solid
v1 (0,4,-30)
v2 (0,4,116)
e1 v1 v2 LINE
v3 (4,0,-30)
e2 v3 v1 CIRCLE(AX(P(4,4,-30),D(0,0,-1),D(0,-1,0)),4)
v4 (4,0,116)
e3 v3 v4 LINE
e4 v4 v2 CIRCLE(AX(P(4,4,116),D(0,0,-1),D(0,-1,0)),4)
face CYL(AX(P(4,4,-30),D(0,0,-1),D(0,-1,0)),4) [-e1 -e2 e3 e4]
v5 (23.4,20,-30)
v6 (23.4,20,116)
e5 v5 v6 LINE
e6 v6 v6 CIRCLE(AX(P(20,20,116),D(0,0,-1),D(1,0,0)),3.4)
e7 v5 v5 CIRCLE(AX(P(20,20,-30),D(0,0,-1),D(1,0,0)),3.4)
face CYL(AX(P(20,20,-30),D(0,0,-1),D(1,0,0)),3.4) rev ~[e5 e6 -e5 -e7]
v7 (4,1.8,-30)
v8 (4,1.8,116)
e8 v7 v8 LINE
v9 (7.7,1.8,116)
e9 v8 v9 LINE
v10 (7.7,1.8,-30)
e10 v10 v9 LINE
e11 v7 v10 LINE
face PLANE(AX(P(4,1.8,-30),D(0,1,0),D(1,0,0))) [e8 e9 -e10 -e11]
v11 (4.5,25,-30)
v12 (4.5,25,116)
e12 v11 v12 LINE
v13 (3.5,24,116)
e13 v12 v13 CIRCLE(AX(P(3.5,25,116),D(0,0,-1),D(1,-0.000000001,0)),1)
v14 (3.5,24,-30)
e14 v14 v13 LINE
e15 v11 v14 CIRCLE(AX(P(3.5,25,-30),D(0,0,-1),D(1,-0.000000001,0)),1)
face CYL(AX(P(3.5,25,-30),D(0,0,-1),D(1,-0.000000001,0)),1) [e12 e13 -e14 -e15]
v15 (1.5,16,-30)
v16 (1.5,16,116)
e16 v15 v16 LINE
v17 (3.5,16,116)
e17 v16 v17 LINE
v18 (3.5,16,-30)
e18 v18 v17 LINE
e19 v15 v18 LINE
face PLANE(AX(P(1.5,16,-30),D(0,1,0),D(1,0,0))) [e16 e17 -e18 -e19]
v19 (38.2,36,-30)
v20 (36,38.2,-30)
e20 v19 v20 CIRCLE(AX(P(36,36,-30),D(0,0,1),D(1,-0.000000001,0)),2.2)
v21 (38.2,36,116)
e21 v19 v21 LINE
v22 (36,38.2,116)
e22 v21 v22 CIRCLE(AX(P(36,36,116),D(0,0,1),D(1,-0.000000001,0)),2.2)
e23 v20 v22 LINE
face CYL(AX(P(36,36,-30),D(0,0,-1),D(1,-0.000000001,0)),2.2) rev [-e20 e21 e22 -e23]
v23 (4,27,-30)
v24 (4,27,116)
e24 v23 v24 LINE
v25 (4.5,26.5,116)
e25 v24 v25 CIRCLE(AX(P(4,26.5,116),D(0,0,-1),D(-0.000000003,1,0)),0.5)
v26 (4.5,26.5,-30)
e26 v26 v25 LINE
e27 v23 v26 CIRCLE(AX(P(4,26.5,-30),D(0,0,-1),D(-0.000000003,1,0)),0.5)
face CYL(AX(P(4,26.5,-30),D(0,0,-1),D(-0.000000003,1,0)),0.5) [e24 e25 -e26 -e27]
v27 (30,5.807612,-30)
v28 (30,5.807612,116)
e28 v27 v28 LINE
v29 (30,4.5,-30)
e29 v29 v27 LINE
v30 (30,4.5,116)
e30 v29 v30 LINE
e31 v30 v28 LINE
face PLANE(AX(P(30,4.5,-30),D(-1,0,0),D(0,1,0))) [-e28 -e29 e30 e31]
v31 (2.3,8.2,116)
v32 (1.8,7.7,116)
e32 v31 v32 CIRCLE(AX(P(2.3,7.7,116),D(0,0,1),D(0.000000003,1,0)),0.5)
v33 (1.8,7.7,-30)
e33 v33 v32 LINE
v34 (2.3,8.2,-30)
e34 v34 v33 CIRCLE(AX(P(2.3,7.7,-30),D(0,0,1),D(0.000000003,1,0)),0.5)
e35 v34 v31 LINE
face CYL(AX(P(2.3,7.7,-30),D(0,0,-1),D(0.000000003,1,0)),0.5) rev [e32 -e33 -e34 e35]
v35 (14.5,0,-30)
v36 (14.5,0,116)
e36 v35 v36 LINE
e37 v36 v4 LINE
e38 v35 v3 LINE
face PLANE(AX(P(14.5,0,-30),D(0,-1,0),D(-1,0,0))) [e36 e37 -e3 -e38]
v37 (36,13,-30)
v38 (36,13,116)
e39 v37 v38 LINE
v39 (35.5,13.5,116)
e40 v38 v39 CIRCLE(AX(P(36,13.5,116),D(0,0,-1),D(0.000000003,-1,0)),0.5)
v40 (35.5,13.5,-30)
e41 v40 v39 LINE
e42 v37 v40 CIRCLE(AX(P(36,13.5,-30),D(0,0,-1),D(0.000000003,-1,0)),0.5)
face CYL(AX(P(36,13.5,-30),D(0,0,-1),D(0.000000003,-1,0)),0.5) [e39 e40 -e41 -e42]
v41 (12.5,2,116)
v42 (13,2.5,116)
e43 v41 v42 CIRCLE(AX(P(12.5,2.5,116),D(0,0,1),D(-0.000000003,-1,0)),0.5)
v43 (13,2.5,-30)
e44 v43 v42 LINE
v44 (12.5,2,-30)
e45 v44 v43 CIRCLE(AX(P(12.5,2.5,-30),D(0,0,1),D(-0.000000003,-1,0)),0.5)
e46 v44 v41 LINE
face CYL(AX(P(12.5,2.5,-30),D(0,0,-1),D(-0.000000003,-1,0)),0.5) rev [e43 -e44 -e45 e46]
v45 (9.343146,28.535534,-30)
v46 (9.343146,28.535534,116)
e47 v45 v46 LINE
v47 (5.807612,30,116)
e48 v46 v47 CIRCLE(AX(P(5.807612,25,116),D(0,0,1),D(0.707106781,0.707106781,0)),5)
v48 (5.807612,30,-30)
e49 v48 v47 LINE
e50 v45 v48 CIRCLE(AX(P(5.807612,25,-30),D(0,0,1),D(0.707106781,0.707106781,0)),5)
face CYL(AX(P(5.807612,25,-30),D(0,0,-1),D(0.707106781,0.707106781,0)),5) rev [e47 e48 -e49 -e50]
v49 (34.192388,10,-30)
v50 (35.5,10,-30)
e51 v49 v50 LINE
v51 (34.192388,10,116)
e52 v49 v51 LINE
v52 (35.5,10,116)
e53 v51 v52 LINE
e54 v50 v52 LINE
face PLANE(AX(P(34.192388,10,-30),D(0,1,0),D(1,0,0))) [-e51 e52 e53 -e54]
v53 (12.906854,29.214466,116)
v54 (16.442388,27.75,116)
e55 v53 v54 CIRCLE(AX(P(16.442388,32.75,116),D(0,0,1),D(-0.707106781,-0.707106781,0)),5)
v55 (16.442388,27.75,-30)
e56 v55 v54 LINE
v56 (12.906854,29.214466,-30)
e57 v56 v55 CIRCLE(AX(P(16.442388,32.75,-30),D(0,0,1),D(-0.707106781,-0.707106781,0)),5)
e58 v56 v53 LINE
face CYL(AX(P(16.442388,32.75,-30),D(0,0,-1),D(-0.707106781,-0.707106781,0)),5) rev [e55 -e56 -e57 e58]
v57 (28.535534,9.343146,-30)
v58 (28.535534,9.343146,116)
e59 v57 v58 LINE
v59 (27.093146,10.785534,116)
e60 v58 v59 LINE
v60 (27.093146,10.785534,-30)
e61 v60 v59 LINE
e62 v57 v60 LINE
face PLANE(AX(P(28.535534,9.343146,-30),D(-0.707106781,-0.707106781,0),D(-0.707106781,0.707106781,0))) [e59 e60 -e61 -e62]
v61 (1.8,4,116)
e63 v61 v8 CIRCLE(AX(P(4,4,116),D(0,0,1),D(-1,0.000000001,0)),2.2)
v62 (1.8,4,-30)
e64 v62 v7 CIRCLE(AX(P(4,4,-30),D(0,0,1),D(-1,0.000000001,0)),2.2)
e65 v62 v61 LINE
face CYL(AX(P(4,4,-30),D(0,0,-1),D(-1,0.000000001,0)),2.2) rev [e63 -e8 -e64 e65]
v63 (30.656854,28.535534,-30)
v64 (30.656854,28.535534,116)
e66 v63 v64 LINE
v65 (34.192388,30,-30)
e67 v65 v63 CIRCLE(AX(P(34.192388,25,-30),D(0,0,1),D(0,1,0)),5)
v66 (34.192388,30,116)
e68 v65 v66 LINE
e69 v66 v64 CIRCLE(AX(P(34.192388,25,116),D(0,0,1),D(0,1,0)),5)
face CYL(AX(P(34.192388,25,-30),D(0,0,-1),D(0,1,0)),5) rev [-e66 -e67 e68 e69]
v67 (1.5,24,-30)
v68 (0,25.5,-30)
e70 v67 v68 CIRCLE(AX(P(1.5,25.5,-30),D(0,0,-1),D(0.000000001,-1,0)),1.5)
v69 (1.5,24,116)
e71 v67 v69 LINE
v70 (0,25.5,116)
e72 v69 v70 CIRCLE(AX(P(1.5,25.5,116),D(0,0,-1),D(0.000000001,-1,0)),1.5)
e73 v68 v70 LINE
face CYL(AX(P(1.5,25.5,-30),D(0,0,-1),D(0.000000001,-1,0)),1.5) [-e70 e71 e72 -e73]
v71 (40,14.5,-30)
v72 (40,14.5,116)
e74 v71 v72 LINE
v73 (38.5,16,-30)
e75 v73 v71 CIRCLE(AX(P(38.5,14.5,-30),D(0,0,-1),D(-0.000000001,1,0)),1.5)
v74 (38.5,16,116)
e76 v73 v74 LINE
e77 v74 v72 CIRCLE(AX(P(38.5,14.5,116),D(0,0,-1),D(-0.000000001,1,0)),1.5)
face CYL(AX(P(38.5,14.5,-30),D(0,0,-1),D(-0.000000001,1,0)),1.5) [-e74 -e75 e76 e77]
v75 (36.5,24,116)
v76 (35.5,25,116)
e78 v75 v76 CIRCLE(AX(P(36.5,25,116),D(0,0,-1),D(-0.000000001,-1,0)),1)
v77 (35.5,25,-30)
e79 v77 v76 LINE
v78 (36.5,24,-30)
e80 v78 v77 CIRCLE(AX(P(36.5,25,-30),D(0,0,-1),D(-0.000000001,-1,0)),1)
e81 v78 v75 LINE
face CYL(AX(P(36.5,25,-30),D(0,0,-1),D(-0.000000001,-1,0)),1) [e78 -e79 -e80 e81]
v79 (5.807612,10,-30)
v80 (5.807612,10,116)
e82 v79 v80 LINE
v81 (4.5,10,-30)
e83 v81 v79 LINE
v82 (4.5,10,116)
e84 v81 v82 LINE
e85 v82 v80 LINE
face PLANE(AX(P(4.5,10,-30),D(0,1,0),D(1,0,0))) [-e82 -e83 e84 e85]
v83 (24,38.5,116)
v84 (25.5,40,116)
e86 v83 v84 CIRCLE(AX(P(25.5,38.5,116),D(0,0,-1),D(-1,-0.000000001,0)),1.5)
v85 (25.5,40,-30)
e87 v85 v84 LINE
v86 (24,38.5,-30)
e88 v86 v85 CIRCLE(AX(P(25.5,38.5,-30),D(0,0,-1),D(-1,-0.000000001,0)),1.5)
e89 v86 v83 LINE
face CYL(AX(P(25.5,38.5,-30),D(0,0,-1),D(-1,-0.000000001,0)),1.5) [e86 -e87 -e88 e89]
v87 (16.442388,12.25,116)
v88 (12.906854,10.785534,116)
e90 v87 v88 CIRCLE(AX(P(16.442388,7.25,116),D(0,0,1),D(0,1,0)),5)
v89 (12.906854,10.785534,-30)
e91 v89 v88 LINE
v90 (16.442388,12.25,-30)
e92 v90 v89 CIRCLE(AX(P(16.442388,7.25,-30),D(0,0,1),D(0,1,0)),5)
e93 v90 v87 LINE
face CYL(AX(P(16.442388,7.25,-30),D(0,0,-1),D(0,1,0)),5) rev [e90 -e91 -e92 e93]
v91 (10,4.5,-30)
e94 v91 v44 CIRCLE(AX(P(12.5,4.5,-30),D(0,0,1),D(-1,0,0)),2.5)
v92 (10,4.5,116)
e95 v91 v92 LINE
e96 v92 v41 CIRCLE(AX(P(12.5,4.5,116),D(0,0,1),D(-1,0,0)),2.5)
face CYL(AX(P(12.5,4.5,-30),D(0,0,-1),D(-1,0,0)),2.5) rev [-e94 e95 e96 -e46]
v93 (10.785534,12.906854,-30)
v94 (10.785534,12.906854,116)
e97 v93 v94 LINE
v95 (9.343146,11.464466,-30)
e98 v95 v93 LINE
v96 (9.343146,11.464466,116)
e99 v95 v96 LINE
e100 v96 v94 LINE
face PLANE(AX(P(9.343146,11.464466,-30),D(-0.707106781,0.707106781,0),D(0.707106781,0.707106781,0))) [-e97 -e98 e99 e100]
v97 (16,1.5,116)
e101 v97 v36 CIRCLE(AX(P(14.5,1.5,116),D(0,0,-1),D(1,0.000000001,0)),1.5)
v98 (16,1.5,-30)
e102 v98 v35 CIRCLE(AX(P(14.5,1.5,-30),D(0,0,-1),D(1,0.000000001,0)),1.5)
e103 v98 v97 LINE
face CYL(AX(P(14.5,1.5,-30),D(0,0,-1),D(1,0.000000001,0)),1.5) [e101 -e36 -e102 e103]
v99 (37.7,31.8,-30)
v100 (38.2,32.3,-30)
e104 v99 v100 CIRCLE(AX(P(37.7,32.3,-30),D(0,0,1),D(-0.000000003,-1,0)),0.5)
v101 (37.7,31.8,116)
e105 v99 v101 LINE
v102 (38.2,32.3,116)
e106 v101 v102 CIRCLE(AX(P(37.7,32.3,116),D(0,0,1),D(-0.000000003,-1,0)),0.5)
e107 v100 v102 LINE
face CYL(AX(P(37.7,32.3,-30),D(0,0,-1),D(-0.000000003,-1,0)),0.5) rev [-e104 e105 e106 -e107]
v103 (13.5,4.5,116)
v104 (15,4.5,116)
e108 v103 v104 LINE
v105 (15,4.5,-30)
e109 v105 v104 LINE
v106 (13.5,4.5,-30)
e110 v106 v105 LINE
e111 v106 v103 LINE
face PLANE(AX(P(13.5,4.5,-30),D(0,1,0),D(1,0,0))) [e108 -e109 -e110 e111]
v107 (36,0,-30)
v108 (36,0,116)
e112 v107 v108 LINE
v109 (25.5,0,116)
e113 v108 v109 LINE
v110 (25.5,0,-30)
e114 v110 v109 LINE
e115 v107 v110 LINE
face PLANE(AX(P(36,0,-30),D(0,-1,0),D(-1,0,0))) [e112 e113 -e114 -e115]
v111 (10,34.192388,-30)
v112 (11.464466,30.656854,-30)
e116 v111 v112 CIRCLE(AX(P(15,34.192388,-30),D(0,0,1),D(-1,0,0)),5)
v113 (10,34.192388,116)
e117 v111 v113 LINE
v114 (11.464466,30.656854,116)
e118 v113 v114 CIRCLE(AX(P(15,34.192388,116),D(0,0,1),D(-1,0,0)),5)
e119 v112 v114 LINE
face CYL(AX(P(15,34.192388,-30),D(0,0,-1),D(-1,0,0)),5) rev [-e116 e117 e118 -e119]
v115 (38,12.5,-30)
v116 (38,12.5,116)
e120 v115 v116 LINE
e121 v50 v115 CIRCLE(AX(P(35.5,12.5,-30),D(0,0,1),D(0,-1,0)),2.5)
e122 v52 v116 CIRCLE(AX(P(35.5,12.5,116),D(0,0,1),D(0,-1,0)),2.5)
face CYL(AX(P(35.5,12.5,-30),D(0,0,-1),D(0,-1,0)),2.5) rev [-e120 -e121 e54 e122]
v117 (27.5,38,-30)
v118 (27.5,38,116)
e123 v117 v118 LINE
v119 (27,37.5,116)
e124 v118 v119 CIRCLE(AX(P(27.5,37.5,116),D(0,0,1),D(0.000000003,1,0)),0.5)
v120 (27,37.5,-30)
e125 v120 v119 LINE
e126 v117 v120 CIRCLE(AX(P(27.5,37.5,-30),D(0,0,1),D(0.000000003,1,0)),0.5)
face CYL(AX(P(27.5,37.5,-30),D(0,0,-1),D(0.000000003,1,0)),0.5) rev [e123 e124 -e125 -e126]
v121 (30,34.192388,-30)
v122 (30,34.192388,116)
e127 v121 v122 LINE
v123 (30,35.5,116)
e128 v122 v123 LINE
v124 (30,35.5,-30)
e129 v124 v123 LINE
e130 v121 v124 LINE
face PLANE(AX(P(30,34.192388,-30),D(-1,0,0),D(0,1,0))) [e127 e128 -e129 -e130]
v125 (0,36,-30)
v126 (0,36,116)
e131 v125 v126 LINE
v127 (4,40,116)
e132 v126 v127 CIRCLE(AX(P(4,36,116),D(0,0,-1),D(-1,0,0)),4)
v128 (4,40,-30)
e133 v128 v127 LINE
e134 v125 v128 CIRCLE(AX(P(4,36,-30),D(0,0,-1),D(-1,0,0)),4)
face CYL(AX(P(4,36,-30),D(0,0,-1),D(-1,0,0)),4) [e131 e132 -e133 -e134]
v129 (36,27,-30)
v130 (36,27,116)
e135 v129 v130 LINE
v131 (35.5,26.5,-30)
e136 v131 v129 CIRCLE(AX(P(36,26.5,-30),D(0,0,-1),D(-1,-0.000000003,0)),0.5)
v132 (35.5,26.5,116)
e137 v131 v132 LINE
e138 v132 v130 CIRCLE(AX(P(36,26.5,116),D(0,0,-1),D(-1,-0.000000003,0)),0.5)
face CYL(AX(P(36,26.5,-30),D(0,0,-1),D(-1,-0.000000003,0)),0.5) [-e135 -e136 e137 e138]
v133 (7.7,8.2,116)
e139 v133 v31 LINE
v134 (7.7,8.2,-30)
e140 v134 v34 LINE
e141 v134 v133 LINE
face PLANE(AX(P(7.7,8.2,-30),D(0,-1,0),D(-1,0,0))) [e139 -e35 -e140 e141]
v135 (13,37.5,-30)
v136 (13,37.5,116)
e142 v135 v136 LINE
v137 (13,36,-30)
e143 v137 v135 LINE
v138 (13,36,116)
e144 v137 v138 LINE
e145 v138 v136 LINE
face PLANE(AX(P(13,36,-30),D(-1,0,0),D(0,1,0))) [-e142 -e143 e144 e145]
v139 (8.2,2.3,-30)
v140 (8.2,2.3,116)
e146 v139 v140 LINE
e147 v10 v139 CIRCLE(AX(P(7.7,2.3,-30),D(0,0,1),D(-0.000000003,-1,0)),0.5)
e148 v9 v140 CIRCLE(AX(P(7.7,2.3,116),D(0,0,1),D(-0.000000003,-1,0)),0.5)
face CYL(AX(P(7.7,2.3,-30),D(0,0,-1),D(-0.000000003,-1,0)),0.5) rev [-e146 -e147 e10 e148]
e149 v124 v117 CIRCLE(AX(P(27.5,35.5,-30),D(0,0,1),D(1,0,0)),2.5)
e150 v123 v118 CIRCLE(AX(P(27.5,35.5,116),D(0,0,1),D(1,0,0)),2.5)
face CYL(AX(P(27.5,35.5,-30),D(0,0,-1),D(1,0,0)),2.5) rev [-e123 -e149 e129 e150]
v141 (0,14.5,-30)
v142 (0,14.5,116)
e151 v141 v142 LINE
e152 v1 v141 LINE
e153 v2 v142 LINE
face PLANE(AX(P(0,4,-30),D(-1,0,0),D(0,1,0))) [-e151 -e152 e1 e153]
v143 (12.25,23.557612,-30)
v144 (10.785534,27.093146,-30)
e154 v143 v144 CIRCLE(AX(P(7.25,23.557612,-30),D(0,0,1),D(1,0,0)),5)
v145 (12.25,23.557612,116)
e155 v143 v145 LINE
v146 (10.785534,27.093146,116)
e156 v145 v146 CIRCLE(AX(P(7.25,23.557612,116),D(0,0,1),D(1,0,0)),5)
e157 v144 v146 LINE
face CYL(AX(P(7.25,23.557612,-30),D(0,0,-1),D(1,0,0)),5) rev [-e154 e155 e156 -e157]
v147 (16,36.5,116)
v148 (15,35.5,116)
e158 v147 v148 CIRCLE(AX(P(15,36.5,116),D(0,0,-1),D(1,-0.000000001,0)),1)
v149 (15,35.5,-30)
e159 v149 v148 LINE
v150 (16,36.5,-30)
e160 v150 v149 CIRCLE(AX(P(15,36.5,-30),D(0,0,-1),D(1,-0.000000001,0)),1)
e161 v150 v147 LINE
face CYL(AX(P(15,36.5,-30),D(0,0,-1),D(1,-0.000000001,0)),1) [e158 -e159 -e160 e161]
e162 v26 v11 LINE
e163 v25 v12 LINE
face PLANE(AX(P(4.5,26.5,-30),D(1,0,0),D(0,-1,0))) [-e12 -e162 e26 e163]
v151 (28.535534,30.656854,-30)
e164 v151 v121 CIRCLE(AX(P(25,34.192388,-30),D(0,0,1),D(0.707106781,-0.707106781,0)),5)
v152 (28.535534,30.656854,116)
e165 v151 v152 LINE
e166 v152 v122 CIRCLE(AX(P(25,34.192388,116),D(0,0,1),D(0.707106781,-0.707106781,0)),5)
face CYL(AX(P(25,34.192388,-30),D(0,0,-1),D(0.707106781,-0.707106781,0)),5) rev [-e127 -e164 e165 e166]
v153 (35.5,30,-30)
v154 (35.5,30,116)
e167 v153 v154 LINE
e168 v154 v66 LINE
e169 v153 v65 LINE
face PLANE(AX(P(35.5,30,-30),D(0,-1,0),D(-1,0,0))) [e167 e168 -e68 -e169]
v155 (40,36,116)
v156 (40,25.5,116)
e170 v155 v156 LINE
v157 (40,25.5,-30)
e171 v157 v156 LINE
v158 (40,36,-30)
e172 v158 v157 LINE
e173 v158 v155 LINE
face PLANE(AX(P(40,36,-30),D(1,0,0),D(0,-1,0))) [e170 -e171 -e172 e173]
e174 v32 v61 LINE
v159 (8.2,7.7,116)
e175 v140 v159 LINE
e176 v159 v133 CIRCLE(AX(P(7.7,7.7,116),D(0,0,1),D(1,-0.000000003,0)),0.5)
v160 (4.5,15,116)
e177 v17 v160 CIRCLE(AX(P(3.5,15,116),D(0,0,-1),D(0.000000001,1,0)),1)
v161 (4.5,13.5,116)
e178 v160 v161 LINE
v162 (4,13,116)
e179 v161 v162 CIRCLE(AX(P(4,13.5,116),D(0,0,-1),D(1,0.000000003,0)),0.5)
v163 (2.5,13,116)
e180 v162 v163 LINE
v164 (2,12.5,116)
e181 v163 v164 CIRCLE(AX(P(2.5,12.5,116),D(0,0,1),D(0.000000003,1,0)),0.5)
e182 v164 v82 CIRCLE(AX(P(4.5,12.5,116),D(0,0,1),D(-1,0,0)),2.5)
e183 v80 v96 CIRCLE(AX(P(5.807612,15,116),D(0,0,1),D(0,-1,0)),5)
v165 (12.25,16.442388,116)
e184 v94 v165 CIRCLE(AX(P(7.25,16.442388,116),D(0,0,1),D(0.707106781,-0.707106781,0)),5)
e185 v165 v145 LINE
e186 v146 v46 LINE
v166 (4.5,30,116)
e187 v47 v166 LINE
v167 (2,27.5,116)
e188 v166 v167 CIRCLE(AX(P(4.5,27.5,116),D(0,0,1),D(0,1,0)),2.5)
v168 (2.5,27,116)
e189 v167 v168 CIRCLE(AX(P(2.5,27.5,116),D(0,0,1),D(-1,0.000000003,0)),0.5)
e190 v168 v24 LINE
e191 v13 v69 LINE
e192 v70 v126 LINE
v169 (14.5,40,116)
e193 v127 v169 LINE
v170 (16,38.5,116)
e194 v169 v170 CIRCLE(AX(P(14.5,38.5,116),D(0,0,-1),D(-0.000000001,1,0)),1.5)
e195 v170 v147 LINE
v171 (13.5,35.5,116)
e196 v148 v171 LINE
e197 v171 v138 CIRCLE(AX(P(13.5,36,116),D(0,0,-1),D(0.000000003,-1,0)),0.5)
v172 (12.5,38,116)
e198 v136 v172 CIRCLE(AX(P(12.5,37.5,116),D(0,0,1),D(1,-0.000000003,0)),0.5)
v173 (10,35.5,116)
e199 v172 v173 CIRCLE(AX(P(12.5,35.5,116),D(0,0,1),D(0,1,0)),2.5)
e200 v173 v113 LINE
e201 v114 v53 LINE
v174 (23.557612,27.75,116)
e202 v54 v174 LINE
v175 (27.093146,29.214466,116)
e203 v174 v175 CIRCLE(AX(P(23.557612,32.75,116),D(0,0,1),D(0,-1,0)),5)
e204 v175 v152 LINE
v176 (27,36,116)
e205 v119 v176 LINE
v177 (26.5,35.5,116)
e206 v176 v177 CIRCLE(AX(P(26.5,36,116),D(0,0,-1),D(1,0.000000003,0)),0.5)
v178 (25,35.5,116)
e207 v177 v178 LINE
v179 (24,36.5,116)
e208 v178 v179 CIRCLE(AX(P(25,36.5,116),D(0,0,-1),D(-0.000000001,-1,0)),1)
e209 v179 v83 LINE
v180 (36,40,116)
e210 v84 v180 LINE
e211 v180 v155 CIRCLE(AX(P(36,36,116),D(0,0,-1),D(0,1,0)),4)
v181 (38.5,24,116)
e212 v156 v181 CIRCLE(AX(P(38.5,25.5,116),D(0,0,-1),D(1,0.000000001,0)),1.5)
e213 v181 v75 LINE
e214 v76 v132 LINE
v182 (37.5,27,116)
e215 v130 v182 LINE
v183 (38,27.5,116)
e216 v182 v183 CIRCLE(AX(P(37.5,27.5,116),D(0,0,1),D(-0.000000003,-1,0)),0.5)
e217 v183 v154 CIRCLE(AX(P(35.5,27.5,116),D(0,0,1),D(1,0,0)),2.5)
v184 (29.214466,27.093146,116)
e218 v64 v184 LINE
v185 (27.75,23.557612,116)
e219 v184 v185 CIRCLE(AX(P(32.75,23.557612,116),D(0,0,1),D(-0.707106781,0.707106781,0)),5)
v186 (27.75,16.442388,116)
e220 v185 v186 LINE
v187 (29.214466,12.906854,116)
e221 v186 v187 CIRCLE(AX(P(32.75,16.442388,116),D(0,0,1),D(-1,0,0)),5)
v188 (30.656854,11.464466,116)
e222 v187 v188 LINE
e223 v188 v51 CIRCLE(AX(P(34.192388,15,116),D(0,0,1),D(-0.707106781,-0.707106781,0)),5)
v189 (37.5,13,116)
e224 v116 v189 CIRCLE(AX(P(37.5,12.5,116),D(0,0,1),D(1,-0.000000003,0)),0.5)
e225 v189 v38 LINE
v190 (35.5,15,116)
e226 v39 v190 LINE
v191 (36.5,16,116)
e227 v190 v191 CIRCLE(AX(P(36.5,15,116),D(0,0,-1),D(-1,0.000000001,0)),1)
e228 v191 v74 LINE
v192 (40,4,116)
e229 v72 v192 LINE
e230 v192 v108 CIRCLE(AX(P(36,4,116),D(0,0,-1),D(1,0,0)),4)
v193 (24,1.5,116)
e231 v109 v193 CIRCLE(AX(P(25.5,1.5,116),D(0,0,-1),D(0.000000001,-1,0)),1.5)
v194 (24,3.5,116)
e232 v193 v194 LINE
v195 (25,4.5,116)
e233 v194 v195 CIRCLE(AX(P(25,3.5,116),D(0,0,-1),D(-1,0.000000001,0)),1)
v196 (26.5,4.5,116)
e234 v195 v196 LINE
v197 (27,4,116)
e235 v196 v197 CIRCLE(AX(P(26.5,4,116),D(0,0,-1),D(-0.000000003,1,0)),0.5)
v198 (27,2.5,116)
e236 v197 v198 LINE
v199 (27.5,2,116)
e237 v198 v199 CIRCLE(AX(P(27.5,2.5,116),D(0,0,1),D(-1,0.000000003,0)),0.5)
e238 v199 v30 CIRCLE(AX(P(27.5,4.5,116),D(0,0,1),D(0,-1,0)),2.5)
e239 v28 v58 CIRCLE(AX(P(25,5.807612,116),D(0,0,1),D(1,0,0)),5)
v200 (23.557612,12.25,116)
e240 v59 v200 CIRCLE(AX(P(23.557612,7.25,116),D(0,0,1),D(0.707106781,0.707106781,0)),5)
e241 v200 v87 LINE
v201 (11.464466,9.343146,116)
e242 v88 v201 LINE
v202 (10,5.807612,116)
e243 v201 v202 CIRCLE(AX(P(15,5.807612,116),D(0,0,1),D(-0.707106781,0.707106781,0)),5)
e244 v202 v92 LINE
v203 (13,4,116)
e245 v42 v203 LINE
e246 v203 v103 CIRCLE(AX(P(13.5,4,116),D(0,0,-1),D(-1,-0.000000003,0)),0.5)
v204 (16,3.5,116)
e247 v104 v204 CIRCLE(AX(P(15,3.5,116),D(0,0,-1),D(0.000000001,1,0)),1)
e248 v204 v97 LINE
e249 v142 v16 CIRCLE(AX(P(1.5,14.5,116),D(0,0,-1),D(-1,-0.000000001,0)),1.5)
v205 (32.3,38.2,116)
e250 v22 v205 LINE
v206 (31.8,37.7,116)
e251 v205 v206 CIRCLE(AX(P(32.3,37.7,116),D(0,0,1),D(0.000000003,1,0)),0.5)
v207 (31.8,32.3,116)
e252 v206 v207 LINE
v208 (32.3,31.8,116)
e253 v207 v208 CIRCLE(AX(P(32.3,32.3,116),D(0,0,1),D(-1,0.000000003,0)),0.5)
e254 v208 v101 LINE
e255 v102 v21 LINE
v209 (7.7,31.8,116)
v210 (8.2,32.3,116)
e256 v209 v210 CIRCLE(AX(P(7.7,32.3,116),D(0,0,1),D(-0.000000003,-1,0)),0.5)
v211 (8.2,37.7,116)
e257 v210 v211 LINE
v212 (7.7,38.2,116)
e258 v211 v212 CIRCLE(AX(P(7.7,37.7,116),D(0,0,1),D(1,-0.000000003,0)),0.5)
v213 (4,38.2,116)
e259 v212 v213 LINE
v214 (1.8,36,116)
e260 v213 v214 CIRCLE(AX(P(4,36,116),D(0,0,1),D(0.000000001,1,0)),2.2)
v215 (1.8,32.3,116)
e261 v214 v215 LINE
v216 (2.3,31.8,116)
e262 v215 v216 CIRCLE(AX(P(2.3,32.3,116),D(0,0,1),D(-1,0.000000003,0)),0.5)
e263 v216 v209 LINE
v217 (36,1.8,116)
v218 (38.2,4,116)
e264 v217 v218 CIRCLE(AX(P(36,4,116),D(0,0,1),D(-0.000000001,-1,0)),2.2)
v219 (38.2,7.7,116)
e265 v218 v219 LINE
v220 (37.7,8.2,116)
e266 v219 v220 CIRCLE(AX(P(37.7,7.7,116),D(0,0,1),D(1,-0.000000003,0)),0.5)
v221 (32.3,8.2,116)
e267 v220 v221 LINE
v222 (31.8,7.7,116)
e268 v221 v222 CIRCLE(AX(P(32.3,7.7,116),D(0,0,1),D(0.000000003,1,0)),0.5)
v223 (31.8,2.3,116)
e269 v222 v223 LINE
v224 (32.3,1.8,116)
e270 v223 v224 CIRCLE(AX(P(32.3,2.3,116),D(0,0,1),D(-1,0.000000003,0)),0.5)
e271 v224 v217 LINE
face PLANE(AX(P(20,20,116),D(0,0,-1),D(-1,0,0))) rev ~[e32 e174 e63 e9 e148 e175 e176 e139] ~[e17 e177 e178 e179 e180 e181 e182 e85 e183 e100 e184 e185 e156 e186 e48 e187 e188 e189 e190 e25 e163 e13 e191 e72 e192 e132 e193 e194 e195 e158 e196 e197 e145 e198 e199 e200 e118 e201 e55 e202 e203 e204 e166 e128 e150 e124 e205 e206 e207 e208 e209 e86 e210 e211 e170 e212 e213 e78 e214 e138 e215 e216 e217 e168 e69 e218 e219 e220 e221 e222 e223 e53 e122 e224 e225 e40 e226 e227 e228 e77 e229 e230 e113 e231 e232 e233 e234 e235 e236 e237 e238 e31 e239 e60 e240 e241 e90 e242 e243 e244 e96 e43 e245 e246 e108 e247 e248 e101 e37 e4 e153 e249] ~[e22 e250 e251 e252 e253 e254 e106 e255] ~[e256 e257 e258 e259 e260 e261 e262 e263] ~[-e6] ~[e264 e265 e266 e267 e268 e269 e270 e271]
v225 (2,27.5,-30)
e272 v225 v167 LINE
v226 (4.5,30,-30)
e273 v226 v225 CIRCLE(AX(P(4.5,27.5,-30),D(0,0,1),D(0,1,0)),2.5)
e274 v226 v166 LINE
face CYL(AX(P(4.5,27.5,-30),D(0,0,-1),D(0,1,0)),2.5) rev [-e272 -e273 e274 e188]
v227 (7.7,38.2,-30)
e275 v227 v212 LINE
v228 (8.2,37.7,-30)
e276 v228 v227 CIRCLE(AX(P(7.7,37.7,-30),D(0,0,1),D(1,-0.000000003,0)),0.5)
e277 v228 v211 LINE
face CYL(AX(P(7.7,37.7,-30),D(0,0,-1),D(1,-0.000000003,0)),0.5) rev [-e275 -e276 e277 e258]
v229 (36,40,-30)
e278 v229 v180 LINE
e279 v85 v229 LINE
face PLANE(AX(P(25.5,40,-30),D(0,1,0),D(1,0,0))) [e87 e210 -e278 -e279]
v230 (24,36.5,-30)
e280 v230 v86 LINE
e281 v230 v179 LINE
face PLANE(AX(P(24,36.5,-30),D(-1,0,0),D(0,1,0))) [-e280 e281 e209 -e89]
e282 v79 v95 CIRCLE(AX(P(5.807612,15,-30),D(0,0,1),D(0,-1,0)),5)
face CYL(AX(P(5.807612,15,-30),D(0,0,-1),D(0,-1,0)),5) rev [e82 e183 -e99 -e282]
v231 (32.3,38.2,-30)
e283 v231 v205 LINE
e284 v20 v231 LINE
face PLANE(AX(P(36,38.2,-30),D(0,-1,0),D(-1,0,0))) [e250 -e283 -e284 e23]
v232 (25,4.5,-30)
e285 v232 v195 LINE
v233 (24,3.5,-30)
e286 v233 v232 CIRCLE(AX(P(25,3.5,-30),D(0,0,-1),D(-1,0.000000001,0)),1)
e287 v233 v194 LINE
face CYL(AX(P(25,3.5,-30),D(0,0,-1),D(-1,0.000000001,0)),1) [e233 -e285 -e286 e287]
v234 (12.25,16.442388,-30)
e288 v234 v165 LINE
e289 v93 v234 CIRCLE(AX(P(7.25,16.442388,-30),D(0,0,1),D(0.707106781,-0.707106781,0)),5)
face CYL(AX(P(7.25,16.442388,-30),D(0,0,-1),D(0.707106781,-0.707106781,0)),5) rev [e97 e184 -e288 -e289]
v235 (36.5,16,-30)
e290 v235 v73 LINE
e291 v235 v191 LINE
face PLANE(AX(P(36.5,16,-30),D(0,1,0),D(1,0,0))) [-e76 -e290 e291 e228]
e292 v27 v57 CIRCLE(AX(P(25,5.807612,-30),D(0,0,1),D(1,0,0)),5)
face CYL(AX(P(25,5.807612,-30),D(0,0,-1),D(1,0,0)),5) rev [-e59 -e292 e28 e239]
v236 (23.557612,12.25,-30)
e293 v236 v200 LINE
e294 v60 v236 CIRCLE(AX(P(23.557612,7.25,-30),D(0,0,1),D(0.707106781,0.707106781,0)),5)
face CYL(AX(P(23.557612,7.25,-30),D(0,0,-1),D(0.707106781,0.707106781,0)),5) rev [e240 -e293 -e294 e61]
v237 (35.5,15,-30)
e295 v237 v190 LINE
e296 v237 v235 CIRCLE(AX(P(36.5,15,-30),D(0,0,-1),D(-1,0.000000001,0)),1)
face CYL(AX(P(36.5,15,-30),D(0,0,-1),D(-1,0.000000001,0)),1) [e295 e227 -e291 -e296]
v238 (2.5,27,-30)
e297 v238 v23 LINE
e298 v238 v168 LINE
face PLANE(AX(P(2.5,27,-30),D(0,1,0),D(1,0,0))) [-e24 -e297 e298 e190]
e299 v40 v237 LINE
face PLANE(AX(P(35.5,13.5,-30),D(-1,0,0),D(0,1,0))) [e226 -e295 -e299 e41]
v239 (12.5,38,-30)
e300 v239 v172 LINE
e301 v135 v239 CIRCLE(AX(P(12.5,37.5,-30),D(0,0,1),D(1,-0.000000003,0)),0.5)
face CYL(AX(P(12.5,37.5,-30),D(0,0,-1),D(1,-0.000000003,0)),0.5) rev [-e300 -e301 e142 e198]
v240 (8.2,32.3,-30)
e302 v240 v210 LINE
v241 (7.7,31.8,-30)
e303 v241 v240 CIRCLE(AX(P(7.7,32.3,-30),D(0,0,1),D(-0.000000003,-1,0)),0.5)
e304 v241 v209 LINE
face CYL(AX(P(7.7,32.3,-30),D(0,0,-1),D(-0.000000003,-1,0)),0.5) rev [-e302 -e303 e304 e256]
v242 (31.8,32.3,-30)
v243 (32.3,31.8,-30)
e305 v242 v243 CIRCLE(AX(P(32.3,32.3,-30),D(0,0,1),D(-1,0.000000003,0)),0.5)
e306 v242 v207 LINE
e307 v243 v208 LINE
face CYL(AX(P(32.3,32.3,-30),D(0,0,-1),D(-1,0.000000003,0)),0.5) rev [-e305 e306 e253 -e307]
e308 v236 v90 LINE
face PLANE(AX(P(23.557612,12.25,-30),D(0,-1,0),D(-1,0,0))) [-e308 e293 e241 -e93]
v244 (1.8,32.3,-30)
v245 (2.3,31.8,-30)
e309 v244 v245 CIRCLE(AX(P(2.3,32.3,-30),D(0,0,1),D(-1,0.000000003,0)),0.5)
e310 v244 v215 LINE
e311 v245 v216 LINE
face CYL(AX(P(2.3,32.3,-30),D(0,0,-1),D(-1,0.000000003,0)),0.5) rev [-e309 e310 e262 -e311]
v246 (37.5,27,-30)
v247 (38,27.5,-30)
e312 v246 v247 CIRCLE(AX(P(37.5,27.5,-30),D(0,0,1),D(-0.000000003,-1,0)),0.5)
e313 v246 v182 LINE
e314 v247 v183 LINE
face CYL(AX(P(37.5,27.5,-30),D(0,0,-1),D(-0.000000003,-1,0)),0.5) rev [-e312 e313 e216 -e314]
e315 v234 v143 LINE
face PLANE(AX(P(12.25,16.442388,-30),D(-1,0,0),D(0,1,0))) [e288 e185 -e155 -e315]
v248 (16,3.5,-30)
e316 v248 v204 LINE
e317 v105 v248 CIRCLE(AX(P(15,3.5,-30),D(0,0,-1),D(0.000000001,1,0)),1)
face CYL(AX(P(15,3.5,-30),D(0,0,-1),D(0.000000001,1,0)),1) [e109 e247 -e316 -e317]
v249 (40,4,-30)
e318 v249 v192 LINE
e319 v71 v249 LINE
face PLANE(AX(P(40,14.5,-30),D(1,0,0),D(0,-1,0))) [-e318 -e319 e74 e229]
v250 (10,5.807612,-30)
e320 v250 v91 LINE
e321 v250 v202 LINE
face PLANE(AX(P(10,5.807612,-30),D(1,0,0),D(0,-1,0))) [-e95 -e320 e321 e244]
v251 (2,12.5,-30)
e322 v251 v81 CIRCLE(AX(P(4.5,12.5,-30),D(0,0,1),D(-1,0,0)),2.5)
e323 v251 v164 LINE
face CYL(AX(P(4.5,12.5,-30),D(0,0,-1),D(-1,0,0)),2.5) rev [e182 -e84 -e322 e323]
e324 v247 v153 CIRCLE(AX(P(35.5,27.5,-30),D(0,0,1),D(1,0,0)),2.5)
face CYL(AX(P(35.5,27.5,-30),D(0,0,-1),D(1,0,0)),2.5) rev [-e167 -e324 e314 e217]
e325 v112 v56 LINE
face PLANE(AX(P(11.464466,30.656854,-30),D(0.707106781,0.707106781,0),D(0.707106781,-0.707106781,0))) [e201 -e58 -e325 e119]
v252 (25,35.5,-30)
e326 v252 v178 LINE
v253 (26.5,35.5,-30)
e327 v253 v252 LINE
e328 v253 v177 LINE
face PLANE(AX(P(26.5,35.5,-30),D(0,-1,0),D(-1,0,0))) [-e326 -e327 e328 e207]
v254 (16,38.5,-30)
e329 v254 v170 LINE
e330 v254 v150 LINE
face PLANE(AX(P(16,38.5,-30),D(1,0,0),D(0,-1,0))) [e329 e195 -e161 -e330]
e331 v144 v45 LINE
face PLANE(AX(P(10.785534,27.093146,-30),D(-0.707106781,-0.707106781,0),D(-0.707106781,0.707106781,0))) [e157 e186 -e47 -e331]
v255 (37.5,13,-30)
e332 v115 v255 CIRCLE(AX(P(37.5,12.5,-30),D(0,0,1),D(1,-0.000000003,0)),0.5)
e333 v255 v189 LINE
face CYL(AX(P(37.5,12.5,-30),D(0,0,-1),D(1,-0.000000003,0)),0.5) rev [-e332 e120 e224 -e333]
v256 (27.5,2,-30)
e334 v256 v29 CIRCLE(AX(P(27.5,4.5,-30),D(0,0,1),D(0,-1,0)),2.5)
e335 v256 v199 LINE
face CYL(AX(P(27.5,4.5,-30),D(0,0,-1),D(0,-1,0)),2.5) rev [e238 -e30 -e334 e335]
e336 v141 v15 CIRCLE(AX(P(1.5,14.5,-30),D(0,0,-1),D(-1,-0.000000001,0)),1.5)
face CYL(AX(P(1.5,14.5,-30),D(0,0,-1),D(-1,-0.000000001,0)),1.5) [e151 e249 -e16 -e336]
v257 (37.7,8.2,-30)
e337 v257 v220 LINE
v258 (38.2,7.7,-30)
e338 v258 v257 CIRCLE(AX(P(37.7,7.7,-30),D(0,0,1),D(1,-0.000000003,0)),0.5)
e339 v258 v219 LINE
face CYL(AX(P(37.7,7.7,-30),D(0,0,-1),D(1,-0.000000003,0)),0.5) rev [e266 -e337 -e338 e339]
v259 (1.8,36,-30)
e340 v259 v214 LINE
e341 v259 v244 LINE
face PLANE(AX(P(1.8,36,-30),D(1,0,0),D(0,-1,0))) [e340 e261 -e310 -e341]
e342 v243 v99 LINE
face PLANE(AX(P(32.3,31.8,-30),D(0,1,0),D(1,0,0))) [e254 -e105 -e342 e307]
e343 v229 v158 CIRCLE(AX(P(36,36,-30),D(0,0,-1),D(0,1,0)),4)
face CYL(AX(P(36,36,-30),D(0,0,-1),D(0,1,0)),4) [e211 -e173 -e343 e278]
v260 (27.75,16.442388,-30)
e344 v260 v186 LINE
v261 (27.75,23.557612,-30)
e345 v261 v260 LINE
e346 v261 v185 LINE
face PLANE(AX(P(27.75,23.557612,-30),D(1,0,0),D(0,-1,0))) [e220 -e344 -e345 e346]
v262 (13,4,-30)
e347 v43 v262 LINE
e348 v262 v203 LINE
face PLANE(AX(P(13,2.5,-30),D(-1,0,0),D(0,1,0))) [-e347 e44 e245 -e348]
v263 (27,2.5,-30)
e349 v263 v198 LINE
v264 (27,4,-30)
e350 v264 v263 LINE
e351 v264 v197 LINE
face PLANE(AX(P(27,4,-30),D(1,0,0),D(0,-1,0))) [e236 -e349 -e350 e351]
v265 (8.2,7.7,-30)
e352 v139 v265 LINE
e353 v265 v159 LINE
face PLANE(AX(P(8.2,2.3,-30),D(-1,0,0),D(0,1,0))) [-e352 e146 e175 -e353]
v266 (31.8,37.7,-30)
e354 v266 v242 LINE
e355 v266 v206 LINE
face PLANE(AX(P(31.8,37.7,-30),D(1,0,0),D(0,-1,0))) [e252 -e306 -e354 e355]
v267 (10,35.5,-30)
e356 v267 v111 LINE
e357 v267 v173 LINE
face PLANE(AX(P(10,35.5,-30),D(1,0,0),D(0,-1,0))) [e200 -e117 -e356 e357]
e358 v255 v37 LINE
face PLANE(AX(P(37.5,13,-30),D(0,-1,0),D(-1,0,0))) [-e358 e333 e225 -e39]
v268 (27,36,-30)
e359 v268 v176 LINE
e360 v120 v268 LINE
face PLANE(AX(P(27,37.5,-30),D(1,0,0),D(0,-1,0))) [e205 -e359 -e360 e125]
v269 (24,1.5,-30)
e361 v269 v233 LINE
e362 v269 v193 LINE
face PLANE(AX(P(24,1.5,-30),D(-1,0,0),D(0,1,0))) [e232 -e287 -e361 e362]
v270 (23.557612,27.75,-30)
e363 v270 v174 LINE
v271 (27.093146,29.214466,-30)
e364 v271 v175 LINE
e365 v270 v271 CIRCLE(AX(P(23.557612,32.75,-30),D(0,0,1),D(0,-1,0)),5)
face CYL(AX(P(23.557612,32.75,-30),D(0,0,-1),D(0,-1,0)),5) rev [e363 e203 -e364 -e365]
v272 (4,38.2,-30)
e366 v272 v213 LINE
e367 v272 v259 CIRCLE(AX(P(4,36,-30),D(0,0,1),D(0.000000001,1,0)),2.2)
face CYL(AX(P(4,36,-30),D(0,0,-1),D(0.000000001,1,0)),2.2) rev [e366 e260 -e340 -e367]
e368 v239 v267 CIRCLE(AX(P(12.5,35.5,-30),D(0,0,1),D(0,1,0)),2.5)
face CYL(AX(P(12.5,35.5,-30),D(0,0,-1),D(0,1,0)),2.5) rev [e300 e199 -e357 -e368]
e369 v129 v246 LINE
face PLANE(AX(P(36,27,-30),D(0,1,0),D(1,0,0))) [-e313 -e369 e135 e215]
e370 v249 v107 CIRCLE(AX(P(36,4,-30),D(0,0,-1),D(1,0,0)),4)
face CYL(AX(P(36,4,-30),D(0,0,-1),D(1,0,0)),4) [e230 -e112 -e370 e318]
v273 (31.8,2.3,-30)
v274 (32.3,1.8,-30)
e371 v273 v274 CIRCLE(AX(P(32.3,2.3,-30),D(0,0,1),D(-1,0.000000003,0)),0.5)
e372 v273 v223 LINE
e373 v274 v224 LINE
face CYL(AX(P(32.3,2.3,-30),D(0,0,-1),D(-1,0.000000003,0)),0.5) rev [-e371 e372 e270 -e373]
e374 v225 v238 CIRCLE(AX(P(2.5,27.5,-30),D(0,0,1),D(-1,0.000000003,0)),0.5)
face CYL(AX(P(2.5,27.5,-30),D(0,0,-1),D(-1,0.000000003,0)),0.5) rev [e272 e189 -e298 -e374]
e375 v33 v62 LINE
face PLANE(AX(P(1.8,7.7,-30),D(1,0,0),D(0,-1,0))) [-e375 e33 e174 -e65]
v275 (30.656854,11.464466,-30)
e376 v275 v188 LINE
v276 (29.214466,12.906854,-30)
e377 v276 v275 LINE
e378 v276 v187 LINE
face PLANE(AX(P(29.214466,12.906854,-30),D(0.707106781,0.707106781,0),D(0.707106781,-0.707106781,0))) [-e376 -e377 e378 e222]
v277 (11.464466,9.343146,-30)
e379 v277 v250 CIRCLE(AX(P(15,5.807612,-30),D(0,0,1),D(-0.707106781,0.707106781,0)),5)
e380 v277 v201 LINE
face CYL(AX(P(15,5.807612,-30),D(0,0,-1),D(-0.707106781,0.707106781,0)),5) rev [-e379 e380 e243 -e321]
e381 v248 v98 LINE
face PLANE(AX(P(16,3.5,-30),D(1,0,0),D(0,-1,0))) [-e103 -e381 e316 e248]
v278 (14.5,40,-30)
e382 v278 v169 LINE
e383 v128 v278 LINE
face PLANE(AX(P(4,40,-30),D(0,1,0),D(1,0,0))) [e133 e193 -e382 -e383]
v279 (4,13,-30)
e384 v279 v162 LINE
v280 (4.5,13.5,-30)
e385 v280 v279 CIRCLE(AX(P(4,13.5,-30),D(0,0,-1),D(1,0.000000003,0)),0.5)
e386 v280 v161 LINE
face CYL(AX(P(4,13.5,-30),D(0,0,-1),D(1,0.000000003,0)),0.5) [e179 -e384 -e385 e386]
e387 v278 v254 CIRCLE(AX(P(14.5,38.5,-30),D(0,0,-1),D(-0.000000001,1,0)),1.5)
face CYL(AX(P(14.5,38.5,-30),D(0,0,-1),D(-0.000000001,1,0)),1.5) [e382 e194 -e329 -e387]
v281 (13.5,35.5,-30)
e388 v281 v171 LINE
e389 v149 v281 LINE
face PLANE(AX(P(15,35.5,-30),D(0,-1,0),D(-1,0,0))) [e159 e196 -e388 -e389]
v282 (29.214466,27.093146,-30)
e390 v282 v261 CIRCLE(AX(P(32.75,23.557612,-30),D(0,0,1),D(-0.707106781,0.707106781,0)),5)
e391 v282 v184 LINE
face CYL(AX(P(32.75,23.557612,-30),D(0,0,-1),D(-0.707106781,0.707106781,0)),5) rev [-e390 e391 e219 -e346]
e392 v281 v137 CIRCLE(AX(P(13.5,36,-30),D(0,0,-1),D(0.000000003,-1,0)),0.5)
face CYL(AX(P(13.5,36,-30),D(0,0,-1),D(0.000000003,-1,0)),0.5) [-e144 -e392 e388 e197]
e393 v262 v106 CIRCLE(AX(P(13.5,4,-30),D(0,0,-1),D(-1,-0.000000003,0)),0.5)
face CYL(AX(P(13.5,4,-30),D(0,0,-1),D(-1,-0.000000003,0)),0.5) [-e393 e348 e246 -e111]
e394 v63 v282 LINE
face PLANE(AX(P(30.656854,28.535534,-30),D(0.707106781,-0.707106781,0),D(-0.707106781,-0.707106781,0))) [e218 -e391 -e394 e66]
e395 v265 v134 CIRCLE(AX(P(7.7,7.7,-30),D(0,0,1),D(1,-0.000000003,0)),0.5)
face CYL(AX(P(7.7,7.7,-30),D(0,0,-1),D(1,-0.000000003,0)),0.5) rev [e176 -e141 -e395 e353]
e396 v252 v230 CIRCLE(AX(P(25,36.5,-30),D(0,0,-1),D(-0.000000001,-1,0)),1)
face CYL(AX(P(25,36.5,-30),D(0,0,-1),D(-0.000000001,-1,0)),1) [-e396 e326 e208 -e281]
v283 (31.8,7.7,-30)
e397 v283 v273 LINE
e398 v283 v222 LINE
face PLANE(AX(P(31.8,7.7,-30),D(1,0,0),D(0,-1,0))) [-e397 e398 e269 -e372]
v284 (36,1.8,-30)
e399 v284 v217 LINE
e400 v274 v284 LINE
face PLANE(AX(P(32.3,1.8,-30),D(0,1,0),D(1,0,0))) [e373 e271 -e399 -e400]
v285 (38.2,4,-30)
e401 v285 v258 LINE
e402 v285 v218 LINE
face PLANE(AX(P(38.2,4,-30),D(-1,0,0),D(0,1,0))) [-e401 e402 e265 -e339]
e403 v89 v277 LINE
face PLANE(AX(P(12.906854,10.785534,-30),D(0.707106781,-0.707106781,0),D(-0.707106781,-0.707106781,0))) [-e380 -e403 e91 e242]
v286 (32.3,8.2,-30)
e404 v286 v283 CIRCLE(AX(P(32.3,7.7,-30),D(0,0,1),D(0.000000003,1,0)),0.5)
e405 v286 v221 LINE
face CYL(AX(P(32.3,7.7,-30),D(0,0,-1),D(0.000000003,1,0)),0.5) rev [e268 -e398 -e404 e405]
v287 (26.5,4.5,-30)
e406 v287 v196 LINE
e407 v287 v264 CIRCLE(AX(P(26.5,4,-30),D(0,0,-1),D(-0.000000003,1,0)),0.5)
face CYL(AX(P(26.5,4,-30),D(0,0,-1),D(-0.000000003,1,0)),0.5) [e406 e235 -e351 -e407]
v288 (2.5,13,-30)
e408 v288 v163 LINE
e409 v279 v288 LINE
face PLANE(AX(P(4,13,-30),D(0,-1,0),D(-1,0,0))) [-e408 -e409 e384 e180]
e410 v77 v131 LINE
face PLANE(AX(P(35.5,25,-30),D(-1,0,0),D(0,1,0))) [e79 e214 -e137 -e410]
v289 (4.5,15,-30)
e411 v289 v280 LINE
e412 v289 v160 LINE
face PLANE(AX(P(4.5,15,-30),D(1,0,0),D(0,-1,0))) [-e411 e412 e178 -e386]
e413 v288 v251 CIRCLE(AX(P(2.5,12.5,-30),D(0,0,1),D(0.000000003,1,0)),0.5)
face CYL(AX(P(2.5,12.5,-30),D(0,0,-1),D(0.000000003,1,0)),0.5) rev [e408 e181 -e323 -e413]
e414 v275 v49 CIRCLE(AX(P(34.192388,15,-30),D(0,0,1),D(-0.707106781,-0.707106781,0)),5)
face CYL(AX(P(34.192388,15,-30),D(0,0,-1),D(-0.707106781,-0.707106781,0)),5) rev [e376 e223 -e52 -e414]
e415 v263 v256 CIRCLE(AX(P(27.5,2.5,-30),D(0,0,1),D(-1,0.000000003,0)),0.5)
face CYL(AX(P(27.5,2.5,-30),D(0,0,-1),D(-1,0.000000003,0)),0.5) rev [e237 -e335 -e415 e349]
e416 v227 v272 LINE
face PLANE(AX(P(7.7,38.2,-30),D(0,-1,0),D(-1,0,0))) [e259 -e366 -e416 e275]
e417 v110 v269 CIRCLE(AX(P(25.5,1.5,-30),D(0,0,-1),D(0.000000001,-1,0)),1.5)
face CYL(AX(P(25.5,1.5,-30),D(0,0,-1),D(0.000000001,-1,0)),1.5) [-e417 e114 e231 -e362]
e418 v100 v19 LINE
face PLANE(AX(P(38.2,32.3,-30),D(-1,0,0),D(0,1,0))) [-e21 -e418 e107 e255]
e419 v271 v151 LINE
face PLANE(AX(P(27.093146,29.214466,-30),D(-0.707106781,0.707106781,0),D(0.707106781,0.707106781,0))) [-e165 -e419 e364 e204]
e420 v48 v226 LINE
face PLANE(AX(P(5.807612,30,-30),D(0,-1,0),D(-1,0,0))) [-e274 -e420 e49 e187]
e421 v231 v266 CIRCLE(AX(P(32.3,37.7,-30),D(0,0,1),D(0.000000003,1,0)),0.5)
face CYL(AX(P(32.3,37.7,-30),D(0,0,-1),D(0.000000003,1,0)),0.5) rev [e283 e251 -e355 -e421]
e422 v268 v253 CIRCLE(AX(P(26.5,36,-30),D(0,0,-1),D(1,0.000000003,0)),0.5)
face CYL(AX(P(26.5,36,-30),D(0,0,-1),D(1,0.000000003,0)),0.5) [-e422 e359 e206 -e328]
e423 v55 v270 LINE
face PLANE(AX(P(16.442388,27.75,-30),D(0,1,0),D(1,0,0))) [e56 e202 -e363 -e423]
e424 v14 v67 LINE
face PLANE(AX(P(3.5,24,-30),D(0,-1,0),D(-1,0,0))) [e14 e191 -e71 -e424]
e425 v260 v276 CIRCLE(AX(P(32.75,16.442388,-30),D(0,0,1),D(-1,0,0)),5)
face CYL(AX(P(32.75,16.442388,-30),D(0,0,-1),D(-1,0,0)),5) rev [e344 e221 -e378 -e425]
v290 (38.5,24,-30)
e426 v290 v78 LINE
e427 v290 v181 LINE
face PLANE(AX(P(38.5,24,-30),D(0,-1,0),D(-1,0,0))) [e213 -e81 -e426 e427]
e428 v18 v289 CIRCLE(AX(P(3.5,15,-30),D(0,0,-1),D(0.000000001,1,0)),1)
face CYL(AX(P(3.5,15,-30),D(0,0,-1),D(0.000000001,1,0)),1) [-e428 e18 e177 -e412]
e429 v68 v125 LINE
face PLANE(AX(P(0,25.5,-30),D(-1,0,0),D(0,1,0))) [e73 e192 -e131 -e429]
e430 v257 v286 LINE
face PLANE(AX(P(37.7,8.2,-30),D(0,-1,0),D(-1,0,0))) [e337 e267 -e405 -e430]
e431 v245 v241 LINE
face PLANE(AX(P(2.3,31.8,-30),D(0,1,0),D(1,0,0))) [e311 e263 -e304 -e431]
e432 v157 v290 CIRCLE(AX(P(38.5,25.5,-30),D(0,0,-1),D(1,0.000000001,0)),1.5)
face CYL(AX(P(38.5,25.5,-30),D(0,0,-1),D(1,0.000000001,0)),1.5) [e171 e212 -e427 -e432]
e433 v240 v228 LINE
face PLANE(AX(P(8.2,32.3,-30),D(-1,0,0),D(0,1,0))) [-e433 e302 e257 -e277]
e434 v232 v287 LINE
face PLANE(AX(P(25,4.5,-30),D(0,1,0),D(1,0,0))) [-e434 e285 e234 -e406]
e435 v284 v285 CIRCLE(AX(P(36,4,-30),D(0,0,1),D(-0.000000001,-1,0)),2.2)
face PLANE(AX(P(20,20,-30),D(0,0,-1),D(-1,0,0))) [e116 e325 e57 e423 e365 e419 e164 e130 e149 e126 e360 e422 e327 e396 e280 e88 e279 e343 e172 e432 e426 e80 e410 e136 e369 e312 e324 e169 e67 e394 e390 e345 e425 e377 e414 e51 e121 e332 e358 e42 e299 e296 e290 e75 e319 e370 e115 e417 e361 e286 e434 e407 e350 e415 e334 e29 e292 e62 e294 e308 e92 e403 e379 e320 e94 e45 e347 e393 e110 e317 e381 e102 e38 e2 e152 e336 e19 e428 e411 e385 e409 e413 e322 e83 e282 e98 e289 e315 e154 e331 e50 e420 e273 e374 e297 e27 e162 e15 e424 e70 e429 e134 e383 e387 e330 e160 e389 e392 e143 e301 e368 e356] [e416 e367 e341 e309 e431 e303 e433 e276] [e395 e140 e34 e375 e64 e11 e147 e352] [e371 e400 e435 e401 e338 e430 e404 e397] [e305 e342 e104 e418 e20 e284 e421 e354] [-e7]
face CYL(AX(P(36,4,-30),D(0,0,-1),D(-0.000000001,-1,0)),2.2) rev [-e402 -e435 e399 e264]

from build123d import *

# Parameters (mm, degrees)
ESQUISSE1_R        = 3.4
BOSS_EXTRU_1_DEPTH = 146


with BuildPart() as part:
    # Esquisse1 → Boss.-Extru.1 (new body)
    with BuildSketch(Plane(origin=(0, 0, -30), x_dir=(-1, 0, 0), z_dir=(0, 0, -1))):
        with BuildLine():
            Line((-4.5, 15), (-4.5, 13.5))
            ThreePointArc((-4.5, 13.5), (-4.353553391, 13.146446609), (-4, 13))
            Line((-4, 13), (-2.5, 13))
            ThreePointArc((-2.5, 13), (-2.146446609, 12.853553391), (-2, 12.5))
            ThreePointArc((-2, 12.5), (-2.732233047, 10.732233047), (-4.5, 10))
            Line((-4.5, 10), (-5.807611845, 10))
            ThreePointArc((-5.807611845, 10), (-7.721029006, 10.380602337), (-9.343145751, 11.464466094))
            Line((-9.343145751, 11.464466094), (-10.785533906, 12.906854249))
            ThreePointArc((-10.785533906, 12.906854249), (-11.869397663, 14.528970994), (-12.25, 16.442388155))
            Line((-12.25, 16.442388155), (-12.25, 23.557611845))
            ThreePointArc((-12.25, 23.557611845), (-11.869397663, 25.471029006), (-10.785533906, 27.093145751))
            Line((-10.785533906, 27.093145751), (-9.343145751, 28.535533906))
            ThreePointArc((-9.343145751, 28.535533906), (-7.721029006, 29.619397663), (-5.807611845, 30))
            Line((-5.807611845, 30), (-4.5, 30))
            ThreePointArc((-4.5, 30), (-2.732233047, 29.267766953), (-2, 27.5))
            ThreePointArc((-2, 27.5), (-2.146446609, 27.146446609), (-2.5, 27))
            Line((-2.5, 27), (-4, 27))
            ThreePointArc((-4, 27), (-4.353553391, 26.853553391), (-4.5, 26.5))
            Line((-4.5, 26.5), (-4.5, 25))
            ThreePointArc((-4.5, 25), (-4.207106781, 24.292893219), (-3.5, 24))
            Line((-3.5, 24), (-1.5, 24))
            ThreePointArc((-1.5, 24), (-0.439339828, 24.439339828), (0, 25.5))
            Line((0, 25.5), (0, 36))
            ThreePointArc((0, 36), (-1.171572875, 38.828427125), (-4, 40))
            Line((-4, 40), (-14.5, 40))
            ThreePointArc((-14.5, 40), (-15.560660172, 39.560660172), (-16, 38.5))
            Line((-16, 38.5), (-16, 36.5))
            ThreePointArc((-16, 36.5), (-15.707106781, 35.792893219), (-15, 35.5))
            Line((-15, 35.5), (-13.5, 35.5))
            ThreePointArc((-13.5, 35.5), (-13.146446609, 35.646446609), (-13, 36))
            Line((-13, 36), (-13, 37.5))
            ThreePointArc((-13, 37.5), (-12.853553391, 37.853553391), (-12.5, 38))
            ThreePointArc((-12.5, 38), (-10.732233047, 37.267766953), (-10, 35.5))
            Line((-10, 35.5), (-10, 34.192388155))
            ThreePointArc((-10, 34.192388155), (-10.380602337, 32.278970994), (-11.464466094, 30.656854249))
            Line((-11.464466094, 30.656854249), (-12.906854249, 29.214466094))
            ThreePointArc((-12.906854249, 29.214466094), (-14.528970994, 28.130602337), (-16.442388155, 27.75))
            Line((-16.442388155, 27.75), (-23.557611845, 27.75))
            ThreePointArc((-23.557611845, 27.75), (-25.471029006, 28.130602337), (-27.093145751, 29.214466094))
            Line((-27.093145751, 29.214466094), (-28.535533906, 30.656854249))
            ThreePointArc((-28.535533906, 30.656854249), (-29.619397663, 32.278970994), (-30, 34.192388155))
            Line((-30, 34.192388155), (-30, 35.5))
            ThreePointArc((-30, 35.5), (-29.267766953, 37.267766953), (-27.5, 38))
            ThreePointArc((-27.5, 38), (-27.146446609, 37.853553391), (-27, 37.5))
            Line((-27, 37.5), (-27, 36))
            ThreePointArc((-27, 36), (-26.853553391, 35.646446609), (-26.5, 35.5))
            Line((-26.5, 35.5), (-25, 35.5))
            ThreePointArc((-25, 35.5), (-24.292893219, 35.792893219), (-24, 36.5))
            Line((-24, 36.5), (-24, 38.5))
            ThreePointArc((-24, 38.5), (-24.439339828, 39.560660172), (-25.5, 40))
            Line((-25.5, 40), (-36, 40))
            ThreePointArc((-36, 40), (-38.828427125, 38.828427125), (-40, 36))
            Line((-40, 36), (-40, 25.5))
            ThreePointArc((-40, 25.5), (-39.560660172, 24.439339828), (-38.5, 24))
            Line((-38.5, 24), (-36.5, 24))
            ThreePointArc((-36.5, 24), (-35.792893219, 24.292893219), (-35.5, 25))
            Line((-35.5, 25), (-35.5, 26.5))
            ThreePointArc((-35.5, 26.5), (-35.646446609, 26.853553391), (-36, 27))
            Line((-36, 27), (-37.5, 27))
            ThreePointArc((-37.5, 27), (-37.853553391, 27.146446609), (-38, 27.5))
            ThreePointArc((-38, 27.5), (-37.267766953, 29.267766953), (-35.5, 30))
            Line((-35.5, 30), (-34.192388155, 30))
            ThreePointArc((-34.192388155, 30), (-32.278970994, 29.619397663), (-30.656854249, 28.535533906))
            Line((-30.656854249, 28.535533906), (-29.214466094, 27.093145751))
            ThreePointArc((-29.214466094, 27.093145751), (-28.130602337, 25.471029006), (-27.75, 23.557611845))
            Line((-27.75, 23.557611845), (-27.75, 16.442388155))
            ThreePointArc((-27.75, 16.442388155), (-28.130602337, 14.528970994), (-29.214466094, 12.906854249))
            Line((-29.214466094, 12.906854249), (-30.656854249, 11.464466094))
            ThreePointArc((-30.656854249, 11.464466094), (-32.278970994, 10.380602337), (-34.192388155, 10))
            Line((-34.192388155, 10), (-35.5, 10))
            ThreePointArc((-35.5, 10), (-37.267766953, 10.732233047), (-38, 12.5))
            ThreePointArc((-38, 12.5), (-37.853553391, 12.853553391), (-37.5, 13))
            Line((-37.5, 13), (-36, 13))
            ThreePointArc((-36, 13), (-35.646446609, 13.146446609), (-35.5, 13.5))
            Line((-35.5, 13.5), (-35.5, 15))
            ThreePointArc((-35.5, 15), (-35.792893219, 15.707106781), (-36.5, 16))
            Line((-36.5, 16), (-38.5, 16))
            ThreePointArc((-38.5, 16), (-39.560660172, 15.560660172), (-40, 14.5))
            Line((-40, 14.5), (-40, 4))
            ThreePointArc((-40, 4), (-38.828427125, 1.171572875), (-36, 0))
            Line((-36, 0), (-25.5, 0))
            ThreePointArc((-25.5, 0), (-24.439339828, 0.439339828), (-24, 1.5))
            Line((-24, 1.5), (-24, 3.5))
            ThreePointArc((-24, 3.5), (-24.292893219, 4.207106781), (-25, 4.5))
            Line((-25, 4.5), (-26.5, 4.5))
            ThreePointArc((-26.5, 4.5), (-26.853553391, 4.353553391), (-27, 4))
            Line((-27, 4), (-27, 2.5))
            ThreePointArc((-27, 2.5), (-27.146446609, 2.146446609), (-27.5, 2))
            ThreePointArc((-27.5, 2), (-29.267766953, 2.732233047), (-30, 4.5))
            Line((-30, 4.5), (-30, 5.807611845))
            ThreePointArc((-30, 5.807611845), (-29.619397663, 7.721029006), (-28.535533906, 9.343145751))
            Line((-28.535533906, 9.343145751), (-27.093145751, 10.785533906))
            ThreePointArc((-27.093145751, 10.785533906), (-25.471029006, 11.869397663), (-23.557611845, 12.25))
            Line((-23.557611845, 12.25), (-16.442388155, 12.25))
            ThreePointArc((-16.442388155, 12.25), (-14.528970994, 11.869397663), (-12.906854249, 10.785533906))
            Line((-12.906854249, 10.785533906), (-11.464466094, 9.343145751))
            ThreePointArc((-11.464466094, 9.343145751), (-10.380602337, 7.721029006), (-10, 5.807611845))
            Line((-10, 5.807611845), (-10, 4.5))
            ThreePointArc((-10, 4.5), (-10.732233047, 2.732233047), (-12.5, 2))
            ThreePointArc((-12.5, 2), (-12.853553391, 2.146446609), (-13, 2.5))
            Line((-13, 2.5), (-13, 4))
            ThreePointArc((-13, 4), (-13.146446609, 4.353553391), (-13.5, 4.5))
            Line((-13.5, 4.5), (-15, 4.5))
            ThreePointArc((-15, 4.5), (-15.707106781, 4.207106781), (-16, 3.5))
            Line((-16, 3.5), (-16, 1.5))
            ThreePointArc((-16, 1.5), (-15.560660172, 0.439339828), (-14.5, 0))
            Line((-14.5, 0), (-4, 0))
            ThreePointArc((-4, 0), (-1.171572875, 1.171572875), (0, 4))
            Line((0, 4), (0, 14.5))
            ThreePointArc((0, 14.5), (-0.439339828, 15.560660172), (-1.5, 16))
            Line((-1.5, 16), (-3.5, 16))
            ThreePointArc((-3.5, 16), (-4.207106781, 15.707106781), (-4.5, 15))
        make_face()
        with Locations(Location((-20, 20, 0), (0, 0, 180))):
            Circle(ESQUISSE1_R, mode=Mode.SUBTRACT)
        with BuildLine():
            Line((-4, 1.8), (-7.7, 1.8))
            ThreePointArc((-7.7, 1.8), (-8.053553391, 1.946446609), (-8.2, 2.3))
            Line((-8.2, 2.3), (-8.2, 7.7))
            ThreePointArc((-8.2, 7.7), (-8.053553391, 8.053553391), (-7.7, 8.2))
            Line((-7.7, 8.2), (-2.3, 8.2))
            ThreePointArc((-2.3, 8.2), (-1.946446609, 8.053553391), (-1.8, 7.7))
            Line((-1.8, 7.7), (-1.8, 4))
            ThreePointArc((-1.8, 4), (-2.444365081, 2.444365081), (-4, 1.8))
        make_face(mode=Mode.SUBTRACT)
        with BuildLine():
            Line((-38.2, 4), (-38.2, 7.7))
            ThreePointArc((-38.2, 7.7), (-38.053553391, 8.053553391), (-37.7, 8.2))
            Line((-37.7, 8.2), (-32.3, 8.2))
            ThreePointArc((-32.3, 8.2), (-31.946446609, 8.053553391), (-31.8, 7.7))
            Line((-31.8, 7.7), (-31.8, 2.3))
            ThreePointArc((-31.8, 2.3), (-31.946446609, 1.946446609), (-32.3, 1.8))
            Line((-32.3, 1.8), (-36, 1.8))
            ThreePointArc((-36, 1.8), (-37.555634919, 2.444365081), (-38.2, 4))
        make_face(mode=Mode.SUBTRACT)
        with BuildLine():
            Line((-36, 38.2), (-32.3, 38.2))
            ThreePointArc((-32.3, 38.2), (-31.946446609, 38.053553391), (-31.8, 37.7))
            Line((-31.8, 37.7), (-31.8, 32.3))
            ThreePointArc((-31.8, 32.3), (-31.946446609, 31.946446609), (-32.3, 31.8))
            Line((-32.3, 31.8), (-37.7, 31.8))
            ThreePointArc((-37.7, 31.8), (-38.053553391, 31.946446609), (-38.2, 32.3))
            Line((-38.2, 32.3), (-38.2, 36))
            ThreePointArc((-38.2, 36), (-37.555634919, 37.555634919), (-36, 38.2))
        make_face(mode=Mode.SUBTRACT)
        with BuildLine():
            Line((-1.8, 36), (-1.8, 32.3))
            ThreePointArc((-1.8, 32.3), (-1.946446609, 31.946446609), (-2.3, 31.8))
            Line((-2.3, 31.8), (-7.7, 31.8))
            ThreePointArc((-7.7, 31.8), (-8.053553391, 31.946446609), (-8.2, 32.3))
            Line((-8.2, 32.3), (-8.2, 37.7))
            ThreePointArc((-8.2, 37.7), (-8.053553391, 38.053553391), (-7.7, 38.2))
            Line((-7.7, 38.2), (-4, 38.2))
            ThreePointArc((-4, 38.2), (-2.444365081, 37.555634919), (-1.8, 36))
        make_face(mode=Mode.SUBTRACT)
    extrude(amount=-BOSS_EXTRU_1_DEPTH)


solid = part.part
